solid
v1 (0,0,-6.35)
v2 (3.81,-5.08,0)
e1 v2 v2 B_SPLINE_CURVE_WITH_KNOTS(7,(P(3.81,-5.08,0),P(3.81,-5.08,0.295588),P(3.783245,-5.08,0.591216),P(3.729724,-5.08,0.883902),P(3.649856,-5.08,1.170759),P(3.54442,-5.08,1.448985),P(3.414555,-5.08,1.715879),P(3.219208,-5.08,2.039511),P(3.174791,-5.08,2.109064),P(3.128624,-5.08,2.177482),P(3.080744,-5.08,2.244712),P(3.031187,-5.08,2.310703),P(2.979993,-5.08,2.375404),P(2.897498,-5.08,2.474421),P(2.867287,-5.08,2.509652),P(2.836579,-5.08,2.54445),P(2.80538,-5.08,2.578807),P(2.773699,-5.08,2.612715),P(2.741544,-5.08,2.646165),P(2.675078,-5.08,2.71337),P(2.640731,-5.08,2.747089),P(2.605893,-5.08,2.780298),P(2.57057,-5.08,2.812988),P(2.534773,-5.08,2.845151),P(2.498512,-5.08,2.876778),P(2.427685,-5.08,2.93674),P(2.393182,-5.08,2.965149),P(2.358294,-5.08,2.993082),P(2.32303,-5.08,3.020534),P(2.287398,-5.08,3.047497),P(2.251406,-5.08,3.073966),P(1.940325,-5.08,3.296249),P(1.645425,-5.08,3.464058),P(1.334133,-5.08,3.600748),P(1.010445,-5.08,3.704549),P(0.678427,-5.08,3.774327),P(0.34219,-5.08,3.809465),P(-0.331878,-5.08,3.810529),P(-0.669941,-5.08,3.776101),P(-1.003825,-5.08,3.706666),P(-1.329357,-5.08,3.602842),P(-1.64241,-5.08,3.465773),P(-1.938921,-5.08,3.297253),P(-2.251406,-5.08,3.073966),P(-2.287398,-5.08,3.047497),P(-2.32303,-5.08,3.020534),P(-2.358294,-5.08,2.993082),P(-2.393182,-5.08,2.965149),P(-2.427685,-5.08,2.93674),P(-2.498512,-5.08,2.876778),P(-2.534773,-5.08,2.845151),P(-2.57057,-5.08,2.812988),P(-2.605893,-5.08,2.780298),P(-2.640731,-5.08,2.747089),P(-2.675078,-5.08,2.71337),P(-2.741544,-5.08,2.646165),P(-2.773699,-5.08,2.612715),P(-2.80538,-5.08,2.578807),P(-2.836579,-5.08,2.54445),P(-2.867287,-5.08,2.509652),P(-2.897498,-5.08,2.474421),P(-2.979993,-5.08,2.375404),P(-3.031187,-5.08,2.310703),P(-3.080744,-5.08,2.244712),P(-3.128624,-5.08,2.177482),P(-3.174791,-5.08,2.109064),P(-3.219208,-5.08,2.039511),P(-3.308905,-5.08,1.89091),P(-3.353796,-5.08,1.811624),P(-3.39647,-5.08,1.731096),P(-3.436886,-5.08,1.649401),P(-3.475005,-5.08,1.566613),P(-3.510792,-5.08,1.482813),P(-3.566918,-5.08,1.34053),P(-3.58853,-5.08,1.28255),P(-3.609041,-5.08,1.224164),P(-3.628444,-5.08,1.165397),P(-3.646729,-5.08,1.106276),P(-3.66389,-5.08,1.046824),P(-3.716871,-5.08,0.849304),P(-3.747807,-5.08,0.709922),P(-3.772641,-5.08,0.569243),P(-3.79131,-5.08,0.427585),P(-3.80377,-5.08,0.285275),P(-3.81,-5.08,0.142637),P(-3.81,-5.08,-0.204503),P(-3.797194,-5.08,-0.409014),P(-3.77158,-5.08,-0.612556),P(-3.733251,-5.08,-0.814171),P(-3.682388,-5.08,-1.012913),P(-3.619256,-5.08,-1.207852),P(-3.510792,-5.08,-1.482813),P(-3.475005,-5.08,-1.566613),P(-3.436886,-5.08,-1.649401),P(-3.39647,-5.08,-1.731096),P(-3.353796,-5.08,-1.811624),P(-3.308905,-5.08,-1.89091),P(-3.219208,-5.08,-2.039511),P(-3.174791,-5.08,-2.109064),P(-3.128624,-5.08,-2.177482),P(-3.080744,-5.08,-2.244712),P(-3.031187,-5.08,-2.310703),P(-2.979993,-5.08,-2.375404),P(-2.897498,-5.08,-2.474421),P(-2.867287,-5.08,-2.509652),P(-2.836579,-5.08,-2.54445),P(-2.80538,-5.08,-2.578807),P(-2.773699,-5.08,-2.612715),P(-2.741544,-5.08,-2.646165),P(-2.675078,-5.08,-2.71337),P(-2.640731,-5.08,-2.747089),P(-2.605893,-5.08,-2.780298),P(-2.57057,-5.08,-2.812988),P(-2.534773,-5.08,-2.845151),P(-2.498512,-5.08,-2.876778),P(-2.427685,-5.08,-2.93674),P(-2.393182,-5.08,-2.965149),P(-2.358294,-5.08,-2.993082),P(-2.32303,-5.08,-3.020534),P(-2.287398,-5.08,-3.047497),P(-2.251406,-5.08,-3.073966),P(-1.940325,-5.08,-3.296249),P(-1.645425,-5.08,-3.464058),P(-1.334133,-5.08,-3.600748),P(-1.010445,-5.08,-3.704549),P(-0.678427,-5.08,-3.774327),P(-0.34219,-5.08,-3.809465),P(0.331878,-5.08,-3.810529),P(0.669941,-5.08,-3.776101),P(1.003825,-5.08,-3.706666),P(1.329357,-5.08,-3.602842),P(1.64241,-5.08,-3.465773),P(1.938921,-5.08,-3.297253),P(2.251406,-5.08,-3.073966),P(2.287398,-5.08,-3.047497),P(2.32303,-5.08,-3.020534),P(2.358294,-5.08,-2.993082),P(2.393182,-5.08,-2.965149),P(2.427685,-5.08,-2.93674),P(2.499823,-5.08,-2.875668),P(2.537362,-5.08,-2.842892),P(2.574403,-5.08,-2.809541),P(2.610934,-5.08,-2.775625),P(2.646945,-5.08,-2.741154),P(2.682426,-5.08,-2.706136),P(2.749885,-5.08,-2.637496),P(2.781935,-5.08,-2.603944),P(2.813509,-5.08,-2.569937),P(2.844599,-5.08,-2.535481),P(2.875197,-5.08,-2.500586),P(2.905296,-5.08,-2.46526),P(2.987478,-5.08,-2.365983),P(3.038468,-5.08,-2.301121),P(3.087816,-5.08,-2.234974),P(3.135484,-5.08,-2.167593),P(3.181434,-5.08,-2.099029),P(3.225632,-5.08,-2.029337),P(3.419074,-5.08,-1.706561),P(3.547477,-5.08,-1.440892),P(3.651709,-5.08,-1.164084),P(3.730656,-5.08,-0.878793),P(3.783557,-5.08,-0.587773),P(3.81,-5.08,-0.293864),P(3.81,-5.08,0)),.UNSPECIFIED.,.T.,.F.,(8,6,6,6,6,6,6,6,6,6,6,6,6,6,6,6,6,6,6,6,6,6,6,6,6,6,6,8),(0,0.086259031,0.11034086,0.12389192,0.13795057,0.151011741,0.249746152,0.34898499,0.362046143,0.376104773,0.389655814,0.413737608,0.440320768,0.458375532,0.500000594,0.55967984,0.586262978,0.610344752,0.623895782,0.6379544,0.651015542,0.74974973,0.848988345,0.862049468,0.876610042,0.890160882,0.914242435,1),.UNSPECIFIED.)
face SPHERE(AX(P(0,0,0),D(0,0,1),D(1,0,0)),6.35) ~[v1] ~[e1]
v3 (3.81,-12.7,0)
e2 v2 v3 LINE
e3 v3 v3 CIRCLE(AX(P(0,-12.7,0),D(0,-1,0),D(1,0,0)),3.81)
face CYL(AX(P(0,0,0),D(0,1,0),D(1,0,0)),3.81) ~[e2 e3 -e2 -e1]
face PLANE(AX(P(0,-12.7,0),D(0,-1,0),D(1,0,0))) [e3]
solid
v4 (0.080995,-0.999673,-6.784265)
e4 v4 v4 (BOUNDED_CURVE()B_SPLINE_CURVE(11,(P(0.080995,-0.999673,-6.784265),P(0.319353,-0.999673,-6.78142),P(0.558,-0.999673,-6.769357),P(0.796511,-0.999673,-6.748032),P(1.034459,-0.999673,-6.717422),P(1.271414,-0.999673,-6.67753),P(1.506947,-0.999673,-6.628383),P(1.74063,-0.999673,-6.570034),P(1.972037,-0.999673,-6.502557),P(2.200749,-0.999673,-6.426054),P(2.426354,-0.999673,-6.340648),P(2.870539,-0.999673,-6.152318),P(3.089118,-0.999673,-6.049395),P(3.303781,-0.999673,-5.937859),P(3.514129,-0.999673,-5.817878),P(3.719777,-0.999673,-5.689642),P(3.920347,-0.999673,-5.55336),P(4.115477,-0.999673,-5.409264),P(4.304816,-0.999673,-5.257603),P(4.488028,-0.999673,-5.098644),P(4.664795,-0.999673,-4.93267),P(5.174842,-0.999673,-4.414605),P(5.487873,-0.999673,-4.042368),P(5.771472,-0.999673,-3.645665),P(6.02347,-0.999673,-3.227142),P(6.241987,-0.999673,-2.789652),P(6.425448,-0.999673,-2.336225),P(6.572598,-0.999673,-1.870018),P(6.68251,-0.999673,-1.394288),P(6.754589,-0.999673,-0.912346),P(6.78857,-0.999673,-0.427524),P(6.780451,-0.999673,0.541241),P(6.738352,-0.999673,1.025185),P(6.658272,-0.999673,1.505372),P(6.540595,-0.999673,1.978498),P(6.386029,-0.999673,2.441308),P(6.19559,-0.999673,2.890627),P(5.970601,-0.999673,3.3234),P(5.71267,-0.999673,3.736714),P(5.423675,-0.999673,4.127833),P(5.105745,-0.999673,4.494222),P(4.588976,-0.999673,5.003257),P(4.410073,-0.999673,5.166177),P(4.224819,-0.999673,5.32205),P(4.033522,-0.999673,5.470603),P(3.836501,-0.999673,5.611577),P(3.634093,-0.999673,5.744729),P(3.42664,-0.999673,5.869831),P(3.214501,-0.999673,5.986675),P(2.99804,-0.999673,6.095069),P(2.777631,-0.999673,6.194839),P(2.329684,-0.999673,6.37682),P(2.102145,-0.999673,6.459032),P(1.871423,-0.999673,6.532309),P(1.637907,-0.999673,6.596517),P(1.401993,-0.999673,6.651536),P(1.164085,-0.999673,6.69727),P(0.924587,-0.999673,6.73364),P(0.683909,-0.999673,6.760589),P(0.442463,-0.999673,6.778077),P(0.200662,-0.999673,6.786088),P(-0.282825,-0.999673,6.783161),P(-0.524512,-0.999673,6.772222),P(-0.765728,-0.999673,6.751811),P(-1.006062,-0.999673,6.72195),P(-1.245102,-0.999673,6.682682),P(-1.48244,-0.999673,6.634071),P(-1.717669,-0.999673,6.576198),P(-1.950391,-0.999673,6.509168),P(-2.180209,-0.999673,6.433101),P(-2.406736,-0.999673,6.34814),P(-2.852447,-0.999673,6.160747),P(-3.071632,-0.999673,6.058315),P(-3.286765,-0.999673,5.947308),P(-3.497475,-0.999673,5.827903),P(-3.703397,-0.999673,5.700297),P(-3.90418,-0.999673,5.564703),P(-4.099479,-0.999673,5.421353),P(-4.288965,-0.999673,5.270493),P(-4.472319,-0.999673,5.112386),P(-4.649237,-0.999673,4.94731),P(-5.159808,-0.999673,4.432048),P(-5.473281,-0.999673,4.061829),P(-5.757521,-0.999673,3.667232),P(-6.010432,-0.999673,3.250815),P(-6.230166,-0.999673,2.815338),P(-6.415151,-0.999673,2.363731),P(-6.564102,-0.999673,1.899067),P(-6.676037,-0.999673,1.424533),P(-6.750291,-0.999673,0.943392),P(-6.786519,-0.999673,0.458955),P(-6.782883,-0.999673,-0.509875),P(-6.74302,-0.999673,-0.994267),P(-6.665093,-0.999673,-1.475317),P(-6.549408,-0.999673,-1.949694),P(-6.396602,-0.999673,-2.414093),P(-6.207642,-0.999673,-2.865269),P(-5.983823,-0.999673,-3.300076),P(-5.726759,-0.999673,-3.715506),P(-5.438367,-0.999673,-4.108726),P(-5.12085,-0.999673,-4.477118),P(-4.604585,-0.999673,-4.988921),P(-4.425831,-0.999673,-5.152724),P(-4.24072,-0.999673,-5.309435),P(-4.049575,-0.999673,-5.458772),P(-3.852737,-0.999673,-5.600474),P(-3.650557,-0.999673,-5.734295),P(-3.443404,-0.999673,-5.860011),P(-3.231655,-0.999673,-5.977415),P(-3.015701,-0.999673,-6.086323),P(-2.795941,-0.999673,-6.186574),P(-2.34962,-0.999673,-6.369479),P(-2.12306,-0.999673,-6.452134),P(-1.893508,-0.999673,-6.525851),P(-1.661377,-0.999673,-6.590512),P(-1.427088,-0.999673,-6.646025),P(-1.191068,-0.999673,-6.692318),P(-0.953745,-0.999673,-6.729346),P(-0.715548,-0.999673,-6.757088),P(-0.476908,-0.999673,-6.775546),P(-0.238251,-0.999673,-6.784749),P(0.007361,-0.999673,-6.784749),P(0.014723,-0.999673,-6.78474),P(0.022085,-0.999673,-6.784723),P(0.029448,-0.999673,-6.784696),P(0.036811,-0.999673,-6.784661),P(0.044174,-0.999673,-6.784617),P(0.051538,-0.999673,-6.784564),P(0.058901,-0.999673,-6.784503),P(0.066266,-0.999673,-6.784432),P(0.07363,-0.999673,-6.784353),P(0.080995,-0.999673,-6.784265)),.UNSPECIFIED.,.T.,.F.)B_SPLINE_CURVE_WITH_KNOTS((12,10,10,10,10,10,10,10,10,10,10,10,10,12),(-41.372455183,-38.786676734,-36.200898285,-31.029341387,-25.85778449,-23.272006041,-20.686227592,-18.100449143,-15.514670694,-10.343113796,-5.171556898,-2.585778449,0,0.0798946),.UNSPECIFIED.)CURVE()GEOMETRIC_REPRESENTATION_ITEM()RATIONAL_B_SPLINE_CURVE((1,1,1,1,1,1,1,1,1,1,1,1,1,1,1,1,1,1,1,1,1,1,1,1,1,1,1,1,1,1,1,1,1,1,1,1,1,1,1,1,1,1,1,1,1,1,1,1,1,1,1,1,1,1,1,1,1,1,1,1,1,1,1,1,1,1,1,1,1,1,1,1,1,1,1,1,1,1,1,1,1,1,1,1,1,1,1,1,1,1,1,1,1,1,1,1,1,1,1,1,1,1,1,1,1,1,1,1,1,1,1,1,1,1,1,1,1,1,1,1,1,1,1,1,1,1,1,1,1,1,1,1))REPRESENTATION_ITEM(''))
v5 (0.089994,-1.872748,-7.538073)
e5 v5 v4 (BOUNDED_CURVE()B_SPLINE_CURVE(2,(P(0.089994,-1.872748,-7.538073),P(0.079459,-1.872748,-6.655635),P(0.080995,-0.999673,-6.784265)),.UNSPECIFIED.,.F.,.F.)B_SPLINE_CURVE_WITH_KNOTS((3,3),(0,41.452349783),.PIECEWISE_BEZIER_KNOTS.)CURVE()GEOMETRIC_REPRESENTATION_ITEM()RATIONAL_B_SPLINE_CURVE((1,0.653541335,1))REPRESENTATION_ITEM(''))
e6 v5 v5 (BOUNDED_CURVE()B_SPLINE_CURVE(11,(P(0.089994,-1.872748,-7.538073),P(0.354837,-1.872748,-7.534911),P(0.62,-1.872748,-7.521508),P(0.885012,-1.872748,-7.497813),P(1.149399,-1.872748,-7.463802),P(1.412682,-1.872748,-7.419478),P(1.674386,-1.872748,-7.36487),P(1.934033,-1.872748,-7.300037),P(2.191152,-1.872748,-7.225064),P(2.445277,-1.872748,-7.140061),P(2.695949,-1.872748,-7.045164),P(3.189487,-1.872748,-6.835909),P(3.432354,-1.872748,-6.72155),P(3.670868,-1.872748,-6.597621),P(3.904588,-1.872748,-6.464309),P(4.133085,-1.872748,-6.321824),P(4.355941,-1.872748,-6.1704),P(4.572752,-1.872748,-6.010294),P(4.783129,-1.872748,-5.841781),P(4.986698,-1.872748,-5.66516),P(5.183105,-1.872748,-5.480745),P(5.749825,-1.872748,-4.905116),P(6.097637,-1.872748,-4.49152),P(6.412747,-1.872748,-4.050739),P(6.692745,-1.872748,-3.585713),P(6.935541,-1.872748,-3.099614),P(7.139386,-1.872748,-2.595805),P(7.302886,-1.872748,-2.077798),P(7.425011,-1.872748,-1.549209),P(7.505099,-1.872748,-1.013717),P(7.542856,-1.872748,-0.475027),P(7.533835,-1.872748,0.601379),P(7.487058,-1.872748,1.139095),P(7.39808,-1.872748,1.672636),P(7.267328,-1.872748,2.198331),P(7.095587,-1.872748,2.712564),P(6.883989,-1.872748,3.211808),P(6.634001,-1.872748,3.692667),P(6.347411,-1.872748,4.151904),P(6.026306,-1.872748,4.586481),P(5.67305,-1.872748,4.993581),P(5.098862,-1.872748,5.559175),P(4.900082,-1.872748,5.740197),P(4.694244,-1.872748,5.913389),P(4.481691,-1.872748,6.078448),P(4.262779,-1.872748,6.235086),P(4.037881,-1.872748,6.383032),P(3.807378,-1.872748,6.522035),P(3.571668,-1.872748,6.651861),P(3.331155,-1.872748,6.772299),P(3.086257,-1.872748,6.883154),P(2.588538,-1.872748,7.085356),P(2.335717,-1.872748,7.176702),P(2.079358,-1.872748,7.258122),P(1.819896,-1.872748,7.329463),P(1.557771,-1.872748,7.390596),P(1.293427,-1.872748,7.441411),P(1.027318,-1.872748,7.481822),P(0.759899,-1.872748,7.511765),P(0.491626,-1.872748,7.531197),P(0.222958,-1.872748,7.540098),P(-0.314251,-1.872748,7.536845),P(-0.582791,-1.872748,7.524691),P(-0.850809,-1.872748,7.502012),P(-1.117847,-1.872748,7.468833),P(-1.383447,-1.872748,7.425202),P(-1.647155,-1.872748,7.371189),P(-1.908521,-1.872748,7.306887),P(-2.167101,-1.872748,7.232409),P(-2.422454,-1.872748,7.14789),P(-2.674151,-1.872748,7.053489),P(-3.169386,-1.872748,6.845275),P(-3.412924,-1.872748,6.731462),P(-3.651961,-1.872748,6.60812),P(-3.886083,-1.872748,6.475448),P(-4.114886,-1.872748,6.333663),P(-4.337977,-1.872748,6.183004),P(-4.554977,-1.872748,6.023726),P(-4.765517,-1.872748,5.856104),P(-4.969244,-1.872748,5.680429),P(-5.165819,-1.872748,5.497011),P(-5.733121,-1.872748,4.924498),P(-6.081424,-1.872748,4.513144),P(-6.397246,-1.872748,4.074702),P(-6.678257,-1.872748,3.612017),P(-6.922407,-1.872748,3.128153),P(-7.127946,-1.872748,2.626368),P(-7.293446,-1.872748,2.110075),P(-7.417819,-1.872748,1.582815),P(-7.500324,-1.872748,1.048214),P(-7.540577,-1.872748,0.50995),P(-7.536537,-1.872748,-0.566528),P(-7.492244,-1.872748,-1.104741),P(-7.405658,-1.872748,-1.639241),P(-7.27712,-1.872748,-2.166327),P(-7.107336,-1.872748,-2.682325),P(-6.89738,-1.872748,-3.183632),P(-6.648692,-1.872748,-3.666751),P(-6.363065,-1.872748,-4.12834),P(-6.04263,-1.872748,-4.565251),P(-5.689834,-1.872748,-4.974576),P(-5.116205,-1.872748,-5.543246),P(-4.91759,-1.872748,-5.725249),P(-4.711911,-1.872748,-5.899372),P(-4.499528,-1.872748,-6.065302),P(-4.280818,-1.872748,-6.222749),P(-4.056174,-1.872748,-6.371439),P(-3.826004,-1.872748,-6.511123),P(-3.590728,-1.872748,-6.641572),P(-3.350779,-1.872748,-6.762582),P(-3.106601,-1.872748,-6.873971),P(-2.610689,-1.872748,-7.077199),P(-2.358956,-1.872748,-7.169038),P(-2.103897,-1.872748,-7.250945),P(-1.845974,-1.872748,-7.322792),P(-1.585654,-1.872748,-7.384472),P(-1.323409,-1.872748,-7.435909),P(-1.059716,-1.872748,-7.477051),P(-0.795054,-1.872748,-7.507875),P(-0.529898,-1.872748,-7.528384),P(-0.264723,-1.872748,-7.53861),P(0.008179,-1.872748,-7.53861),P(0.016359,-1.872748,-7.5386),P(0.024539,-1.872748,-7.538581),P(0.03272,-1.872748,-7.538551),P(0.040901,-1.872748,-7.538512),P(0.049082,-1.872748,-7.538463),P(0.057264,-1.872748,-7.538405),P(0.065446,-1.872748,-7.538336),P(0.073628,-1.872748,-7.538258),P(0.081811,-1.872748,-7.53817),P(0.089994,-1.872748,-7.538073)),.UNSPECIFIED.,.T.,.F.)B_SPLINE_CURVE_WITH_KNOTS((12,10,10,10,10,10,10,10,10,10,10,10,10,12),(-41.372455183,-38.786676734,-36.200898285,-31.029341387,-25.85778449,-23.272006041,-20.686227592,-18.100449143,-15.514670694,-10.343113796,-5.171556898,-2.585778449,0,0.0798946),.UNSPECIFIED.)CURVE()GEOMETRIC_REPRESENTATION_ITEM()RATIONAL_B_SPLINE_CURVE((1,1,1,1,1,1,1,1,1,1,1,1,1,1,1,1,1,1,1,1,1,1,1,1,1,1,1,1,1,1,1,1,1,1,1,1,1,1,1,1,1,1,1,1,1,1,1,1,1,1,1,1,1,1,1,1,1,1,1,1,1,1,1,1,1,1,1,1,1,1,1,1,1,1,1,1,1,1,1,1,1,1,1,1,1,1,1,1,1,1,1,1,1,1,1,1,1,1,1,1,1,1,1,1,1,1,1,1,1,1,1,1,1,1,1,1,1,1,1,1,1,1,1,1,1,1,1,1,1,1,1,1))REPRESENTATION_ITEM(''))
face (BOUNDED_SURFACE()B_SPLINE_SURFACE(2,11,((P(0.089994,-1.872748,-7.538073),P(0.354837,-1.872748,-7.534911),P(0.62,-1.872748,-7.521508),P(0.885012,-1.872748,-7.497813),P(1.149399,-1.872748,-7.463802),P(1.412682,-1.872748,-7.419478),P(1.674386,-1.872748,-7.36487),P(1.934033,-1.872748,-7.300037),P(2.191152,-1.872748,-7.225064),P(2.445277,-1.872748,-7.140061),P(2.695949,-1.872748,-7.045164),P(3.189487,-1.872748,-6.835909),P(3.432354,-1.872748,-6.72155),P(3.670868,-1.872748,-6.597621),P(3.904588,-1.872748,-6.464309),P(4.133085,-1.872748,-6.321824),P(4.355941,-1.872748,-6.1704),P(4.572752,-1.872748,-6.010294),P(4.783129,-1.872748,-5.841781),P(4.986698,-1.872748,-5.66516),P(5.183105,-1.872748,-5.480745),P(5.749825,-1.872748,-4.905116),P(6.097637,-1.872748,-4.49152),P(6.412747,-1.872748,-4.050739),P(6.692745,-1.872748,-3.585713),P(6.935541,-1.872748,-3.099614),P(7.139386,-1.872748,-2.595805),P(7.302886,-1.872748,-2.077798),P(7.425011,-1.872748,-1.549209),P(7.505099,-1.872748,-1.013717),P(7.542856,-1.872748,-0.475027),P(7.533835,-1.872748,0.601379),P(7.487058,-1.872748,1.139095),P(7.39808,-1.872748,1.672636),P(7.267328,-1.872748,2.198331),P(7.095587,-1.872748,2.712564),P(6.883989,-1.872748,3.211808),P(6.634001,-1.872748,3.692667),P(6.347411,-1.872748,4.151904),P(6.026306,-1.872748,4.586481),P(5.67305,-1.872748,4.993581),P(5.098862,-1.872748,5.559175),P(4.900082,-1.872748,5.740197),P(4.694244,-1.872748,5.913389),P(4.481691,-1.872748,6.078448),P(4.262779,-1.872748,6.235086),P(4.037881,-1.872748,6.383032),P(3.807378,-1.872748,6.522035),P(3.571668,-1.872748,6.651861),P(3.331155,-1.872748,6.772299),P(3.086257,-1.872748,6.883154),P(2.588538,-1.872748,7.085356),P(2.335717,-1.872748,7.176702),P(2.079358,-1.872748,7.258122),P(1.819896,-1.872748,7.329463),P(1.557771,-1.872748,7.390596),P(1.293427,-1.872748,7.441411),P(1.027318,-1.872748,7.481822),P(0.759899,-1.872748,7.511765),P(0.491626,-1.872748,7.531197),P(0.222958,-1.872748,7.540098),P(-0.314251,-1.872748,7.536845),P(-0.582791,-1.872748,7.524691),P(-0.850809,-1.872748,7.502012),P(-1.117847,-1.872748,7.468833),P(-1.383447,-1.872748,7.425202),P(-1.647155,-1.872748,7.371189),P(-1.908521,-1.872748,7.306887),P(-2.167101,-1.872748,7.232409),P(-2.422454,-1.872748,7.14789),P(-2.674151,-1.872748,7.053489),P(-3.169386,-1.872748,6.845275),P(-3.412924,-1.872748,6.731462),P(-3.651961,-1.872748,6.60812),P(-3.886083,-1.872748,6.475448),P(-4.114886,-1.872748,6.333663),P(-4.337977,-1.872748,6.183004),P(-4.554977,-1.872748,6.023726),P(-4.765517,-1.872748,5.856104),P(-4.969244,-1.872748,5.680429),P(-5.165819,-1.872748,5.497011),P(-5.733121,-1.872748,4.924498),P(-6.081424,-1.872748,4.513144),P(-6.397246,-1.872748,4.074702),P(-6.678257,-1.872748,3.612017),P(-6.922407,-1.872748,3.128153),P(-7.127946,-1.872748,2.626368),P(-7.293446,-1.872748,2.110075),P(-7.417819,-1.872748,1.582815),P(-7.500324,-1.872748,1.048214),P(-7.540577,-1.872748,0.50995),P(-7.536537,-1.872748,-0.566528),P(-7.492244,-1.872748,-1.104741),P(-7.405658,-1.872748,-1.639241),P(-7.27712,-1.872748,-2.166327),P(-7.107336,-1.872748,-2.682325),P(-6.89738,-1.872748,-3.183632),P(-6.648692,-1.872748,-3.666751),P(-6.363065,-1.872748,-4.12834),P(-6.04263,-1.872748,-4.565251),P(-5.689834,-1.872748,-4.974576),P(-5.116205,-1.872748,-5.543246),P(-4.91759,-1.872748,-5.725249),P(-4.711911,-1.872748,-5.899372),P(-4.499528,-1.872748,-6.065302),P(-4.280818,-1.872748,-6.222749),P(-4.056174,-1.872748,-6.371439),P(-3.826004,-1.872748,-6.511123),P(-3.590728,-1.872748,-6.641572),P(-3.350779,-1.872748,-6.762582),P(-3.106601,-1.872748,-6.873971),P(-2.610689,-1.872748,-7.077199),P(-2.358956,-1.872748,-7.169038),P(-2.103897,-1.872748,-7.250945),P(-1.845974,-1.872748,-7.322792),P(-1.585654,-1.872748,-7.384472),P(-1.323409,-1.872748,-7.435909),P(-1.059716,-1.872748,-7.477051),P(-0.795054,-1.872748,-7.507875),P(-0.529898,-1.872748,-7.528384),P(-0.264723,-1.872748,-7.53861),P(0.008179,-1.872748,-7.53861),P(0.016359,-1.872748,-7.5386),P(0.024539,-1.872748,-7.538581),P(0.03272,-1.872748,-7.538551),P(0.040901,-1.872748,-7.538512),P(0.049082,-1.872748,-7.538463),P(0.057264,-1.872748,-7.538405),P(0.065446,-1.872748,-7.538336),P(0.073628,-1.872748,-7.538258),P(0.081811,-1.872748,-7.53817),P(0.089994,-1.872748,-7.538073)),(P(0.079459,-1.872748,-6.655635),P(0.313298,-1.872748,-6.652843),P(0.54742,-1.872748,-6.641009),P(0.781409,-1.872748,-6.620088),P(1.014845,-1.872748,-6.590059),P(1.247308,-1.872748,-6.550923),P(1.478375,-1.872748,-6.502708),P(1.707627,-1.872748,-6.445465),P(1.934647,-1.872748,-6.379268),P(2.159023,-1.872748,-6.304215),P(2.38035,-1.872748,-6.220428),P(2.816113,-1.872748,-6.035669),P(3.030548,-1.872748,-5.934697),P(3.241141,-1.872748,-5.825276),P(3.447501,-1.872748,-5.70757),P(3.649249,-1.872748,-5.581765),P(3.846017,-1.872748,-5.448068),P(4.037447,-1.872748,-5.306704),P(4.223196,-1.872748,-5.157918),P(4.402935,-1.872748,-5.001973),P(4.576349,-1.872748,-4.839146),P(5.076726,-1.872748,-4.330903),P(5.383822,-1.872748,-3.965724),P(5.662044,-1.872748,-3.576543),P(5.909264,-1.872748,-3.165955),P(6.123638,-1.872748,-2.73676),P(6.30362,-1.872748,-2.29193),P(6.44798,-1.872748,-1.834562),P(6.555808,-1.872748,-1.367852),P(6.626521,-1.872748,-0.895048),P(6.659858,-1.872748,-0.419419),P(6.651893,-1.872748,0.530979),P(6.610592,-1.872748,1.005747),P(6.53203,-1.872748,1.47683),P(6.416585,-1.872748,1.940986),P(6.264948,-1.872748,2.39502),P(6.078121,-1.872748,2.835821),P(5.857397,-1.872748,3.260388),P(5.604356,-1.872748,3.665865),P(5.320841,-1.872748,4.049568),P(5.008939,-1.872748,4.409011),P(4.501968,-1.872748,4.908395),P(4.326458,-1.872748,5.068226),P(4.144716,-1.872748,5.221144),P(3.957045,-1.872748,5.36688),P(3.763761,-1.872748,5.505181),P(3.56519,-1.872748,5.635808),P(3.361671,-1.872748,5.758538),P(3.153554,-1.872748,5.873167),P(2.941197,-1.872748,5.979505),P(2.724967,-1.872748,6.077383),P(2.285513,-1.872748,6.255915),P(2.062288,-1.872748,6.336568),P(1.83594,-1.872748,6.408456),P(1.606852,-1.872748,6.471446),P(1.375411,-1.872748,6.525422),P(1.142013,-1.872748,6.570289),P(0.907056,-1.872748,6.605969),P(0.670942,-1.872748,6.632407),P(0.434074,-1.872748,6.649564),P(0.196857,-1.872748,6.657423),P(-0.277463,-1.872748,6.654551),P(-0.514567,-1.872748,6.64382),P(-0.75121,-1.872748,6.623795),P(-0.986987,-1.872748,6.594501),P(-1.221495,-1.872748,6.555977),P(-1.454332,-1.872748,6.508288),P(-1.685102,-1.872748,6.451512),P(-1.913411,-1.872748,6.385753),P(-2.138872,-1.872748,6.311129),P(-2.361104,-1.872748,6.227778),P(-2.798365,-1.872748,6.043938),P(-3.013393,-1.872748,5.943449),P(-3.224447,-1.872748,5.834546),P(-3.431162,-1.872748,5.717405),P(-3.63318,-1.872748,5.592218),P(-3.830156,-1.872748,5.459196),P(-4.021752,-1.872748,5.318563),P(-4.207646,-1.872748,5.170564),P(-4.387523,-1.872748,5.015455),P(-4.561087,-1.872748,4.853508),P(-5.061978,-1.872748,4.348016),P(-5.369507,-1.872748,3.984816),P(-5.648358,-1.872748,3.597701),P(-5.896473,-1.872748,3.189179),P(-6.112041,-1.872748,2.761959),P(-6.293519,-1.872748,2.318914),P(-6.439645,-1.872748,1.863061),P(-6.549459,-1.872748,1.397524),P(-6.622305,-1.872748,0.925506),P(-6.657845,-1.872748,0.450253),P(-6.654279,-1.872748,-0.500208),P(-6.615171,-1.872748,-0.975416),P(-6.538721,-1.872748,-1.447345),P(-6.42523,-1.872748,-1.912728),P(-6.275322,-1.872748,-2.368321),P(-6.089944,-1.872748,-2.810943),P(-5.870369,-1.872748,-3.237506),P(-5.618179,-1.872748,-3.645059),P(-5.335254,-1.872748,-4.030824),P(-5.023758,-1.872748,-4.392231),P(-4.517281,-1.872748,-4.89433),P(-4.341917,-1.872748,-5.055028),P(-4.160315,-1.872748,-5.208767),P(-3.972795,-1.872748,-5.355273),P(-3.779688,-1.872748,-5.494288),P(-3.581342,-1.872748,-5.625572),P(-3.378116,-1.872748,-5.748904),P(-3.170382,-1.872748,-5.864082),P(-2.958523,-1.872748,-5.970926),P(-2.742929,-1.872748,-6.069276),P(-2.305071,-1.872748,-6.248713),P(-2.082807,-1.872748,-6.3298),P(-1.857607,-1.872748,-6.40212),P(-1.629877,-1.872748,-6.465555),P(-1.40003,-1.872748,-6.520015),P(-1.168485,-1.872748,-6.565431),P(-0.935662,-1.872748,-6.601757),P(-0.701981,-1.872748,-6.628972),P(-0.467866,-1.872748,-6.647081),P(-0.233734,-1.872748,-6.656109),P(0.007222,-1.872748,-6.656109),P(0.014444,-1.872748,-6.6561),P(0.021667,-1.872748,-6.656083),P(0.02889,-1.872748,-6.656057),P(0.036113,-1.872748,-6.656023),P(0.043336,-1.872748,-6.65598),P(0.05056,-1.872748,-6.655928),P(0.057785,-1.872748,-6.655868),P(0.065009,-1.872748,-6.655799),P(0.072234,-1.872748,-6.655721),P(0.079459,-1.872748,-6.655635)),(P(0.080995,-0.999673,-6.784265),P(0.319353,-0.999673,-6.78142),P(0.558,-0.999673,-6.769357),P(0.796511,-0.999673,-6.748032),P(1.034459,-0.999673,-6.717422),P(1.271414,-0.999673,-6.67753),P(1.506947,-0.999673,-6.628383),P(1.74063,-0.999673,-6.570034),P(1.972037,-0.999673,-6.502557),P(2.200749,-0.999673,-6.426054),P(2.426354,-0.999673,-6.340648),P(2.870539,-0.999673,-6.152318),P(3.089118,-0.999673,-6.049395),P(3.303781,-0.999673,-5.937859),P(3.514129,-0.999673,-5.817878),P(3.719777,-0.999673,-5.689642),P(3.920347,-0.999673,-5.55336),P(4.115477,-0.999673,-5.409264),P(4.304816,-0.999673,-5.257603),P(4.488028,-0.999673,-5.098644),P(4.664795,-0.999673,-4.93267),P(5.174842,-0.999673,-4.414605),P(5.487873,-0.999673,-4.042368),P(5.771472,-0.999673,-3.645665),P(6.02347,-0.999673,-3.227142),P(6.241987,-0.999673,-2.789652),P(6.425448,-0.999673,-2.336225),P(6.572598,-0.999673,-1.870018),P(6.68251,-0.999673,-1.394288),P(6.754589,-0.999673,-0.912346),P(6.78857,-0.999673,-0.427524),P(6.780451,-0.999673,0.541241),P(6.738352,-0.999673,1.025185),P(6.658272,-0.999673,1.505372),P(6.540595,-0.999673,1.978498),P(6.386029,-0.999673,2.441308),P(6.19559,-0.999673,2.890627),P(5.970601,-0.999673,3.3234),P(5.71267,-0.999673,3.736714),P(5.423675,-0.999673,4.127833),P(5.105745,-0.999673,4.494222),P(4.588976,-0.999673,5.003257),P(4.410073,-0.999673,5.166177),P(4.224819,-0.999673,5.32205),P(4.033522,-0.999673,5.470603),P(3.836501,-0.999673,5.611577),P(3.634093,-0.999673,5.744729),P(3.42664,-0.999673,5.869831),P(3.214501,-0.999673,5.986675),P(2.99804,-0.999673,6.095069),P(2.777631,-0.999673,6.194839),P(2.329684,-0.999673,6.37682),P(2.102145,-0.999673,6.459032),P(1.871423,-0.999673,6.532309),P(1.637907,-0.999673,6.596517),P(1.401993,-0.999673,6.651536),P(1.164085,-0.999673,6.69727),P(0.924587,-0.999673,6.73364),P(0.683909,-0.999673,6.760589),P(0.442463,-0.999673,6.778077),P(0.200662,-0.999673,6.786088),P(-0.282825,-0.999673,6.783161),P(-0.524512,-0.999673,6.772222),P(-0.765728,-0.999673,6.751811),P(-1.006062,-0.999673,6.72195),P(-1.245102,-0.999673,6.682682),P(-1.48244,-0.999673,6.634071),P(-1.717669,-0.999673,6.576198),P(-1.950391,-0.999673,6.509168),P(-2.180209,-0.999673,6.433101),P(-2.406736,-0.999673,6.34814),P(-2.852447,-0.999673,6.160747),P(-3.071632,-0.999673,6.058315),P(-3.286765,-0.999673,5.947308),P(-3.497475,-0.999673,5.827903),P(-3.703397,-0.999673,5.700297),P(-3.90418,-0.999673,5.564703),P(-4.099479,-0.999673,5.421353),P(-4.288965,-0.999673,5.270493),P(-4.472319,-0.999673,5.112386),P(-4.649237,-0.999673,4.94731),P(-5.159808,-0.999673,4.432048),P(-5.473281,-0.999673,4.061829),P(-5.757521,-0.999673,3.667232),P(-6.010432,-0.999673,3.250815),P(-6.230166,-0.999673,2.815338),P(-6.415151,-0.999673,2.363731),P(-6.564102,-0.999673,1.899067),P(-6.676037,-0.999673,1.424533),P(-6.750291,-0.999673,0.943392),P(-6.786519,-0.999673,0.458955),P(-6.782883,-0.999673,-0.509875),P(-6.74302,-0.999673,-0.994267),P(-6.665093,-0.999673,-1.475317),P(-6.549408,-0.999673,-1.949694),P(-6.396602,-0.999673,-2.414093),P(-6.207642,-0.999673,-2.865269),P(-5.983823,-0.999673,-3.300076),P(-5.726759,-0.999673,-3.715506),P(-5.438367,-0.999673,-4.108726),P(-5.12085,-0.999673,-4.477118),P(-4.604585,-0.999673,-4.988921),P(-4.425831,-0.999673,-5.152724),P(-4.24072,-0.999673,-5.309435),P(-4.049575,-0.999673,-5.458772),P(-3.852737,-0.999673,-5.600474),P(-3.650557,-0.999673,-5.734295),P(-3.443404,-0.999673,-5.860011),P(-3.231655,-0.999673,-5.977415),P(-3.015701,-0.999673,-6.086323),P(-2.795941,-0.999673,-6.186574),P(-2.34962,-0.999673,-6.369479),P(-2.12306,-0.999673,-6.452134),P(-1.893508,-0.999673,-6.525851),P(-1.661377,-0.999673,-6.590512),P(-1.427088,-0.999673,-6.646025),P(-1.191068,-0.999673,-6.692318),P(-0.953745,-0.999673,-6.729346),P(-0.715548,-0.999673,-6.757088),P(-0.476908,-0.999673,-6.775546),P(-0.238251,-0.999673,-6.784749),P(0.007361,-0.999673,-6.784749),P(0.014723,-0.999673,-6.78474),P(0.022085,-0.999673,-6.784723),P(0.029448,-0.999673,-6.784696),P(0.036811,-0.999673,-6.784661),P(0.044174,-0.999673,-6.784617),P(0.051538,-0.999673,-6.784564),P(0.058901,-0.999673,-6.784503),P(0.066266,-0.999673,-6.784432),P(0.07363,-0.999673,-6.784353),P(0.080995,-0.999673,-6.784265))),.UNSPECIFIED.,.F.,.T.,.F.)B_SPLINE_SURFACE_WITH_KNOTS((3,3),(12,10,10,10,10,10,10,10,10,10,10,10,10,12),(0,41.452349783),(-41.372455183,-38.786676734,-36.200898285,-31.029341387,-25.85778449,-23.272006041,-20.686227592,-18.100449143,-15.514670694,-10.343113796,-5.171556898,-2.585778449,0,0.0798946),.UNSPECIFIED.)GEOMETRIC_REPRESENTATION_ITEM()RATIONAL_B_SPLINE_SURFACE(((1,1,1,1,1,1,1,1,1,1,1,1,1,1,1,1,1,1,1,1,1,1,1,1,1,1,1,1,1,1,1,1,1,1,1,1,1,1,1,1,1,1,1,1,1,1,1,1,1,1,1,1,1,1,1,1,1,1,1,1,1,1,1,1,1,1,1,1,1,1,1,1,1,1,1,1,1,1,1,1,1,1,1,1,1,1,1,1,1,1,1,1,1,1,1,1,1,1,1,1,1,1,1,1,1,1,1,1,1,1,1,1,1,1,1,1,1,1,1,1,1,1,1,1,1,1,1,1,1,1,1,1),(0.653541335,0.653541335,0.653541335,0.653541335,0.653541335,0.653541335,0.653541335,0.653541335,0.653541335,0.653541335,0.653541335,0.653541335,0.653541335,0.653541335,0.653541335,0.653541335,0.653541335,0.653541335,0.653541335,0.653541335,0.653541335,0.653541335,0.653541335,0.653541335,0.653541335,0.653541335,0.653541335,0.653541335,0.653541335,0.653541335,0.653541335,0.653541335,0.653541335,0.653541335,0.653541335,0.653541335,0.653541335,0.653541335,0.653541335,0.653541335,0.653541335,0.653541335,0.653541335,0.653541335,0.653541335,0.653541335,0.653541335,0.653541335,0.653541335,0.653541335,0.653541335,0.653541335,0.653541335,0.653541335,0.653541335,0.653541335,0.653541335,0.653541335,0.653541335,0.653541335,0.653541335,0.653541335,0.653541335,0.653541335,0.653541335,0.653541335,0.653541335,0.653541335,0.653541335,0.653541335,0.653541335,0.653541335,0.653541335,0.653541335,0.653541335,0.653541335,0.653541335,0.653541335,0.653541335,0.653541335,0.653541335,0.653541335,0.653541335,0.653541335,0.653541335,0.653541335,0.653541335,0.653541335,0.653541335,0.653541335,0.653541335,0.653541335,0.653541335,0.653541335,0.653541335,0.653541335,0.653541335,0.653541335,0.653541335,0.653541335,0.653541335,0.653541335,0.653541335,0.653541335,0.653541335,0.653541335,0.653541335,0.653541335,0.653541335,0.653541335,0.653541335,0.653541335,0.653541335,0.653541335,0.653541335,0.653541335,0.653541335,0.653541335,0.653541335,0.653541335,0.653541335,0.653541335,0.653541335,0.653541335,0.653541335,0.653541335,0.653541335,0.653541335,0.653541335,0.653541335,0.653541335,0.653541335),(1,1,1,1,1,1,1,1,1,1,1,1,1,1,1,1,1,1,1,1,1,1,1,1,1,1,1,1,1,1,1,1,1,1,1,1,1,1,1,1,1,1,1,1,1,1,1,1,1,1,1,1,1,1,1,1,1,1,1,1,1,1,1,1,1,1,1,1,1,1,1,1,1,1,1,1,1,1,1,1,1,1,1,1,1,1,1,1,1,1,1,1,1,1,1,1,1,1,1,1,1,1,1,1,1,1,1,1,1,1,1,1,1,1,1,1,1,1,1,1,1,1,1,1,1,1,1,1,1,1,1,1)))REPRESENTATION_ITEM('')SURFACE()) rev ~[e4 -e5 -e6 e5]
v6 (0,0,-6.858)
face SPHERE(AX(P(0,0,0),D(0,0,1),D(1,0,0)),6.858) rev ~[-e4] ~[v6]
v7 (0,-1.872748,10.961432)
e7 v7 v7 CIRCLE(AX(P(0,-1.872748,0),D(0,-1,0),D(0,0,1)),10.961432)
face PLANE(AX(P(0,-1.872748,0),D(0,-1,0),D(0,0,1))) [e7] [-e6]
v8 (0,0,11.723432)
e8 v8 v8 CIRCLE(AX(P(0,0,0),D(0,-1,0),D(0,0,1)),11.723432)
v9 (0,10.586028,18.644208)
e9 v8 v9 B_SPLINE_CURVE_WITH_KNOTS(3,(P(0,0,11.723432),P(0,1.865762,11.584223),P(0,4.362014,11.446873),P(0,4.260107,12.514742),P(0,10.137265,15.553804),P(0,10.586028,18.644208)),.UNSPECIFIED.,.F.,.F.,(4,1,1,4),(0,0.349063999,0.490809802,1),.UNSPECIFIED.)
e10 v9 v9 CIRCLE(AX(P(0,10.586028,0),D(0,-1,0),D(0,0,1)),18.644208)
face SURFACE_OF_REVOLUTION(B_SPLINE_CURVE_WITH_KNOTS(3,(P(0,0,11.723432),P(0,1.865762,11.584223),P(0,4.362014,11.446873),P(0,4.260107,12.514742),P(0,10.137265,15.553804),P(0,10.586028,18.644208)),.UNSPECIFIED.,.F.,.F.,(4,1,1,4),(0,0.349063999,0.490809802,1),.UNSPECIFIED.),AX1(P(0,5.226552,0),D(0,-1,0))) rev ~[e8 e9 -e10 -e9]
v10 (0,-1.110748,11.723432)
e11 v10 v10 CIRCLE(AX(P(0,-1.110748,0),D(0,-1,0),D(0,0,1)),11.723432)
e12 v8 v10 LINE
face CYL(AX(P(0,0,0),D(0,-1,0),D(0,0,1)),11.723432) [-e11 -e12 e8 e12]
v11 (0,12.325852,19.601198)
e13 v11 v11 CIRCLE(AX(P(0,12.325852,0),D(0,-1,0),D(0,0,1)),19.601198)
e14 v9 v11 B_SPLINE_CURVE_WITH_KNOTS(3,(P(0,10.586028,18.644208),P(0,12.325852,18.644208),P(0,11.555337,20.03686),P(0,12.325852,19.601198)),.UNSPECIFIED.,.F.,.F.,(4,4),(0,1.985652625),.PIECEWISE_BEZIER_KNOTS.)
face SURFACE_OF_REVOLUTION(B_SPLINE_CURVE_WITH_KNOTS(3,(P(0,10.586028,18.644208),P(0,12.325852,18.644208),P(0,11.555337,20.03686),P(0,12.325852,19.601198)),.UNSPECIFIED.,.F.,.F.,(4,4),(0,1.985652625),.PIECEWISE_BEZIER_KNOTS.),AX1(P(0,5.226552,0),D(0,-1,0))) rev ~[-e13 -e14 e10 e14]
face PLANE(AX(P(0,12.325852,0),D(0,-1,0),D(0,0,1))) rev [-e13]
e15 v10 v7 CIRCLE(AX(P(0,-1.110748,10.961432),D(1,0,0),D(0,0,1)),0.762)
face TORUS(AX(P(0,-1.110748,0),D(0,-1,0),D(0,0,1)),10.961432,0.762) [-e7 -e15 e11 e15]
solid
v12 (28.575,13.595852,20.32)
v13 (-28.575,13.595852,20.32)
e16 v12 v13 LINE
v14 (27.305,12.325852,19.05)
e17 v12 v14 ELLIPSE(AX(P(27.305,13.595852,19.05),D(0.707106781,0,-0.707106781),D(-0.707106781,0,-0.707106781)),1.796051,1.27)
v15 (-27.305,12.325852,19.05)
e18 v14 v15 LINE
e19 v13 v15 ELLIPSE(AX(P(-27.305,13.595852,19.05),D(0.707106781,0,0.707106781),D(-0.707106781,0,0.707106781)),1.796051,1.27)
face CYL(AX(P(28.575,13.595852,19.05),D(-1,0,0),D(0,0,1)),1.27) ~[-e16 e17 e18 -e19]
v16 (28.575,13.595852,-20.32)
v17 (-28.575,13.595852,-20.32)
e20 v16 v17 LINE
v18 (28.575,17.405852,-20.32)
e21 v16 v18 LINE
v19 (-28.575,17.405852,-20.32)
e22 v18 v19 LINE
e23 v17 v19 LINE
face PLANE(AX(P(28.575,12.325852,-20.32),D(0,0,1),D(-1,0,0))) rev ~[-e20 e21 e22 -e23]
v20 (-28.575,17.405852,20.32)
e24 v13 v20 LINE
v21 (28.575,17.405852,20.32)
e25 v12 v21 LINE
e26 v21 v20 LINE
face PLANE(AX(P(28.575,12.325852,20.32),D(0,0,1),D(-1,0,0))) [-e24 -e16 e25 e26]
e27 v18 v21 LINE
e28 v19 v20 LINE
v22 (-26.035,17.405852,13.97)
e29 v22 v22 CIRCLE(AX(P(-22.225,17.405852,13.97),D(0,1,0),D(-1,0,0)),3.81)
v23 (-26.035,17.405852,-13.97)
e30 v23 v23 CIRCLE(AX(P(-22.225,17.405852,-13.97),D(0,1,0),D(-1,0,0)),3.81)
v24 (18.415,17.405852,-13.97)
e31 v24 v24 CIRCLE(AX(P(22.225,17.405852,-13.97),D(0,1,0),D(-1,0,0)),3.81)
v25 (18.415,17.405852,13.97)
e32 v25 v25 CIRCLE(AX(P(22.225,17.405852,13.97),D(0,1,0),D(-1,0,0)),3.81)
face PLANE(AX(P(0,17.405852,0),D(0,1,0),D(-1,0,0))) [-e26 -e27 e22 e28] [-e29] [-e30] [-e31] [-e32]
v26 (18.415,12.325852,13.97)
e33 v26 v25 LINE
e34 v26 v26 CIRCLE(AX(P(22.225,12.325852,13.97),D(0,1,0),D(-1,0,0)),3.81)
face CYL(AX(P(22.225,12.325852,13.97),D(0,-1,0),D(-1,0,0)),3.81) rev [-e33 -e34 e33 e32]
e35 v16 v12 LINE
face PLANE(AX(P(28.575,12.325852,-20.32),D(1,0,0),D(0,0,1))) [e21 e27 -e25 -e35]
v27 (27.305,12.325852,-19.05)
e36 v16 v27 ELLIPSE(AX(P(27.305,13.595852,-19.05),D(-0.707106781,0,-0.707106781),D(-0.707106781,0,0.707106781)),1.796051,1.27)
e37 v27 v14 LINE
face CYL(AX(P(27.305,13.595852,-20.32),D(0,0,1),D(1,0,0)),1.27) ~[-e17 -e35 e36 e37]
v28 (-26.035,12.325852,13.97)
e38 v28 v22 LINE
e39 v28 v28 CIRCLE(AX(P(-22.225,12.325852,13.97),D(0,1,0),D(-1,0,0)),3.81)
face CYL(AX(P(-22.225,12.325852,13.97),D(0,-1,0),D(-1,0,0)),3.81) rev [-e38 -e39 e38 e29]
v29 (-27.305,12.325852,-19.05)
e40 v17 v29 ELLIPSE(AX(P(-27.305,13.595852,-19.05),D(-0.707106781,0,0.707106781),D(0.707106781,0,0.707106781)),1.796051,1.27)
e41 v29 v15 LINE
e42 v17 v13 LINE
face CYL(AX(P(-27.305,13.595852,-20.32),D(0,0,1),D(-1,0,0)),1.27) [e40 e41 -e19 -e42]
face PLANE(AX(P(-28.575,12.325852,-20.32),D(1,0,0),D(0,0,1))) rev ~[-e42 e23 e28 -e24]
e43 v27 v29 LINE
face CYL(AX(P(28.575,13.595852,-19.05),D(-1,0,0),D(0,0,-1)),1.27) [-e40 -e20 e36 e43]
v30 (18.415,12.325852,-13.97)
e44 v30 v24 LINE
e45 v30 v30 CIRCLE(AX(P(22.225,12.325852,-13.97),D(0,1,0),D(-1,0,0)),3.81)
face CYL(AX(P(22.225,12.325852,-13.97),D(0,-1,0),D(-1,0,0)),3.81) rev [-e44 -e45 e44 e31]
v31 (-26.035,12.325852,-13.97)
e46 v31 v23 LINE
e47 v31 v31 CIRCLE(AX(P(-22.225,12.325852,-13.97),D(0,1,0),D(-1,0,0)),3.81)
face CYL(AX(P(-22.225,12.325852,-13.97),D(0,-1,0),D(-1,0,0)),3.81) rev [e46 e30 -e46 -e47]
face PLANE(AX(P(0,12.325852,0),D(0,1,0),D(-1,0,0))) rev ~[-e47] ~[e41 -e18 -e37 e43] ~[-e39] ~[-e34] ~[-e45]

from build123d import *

# Parameters (mm, degrees)
F2_R     = 3.81
F3_DEPTH = 12.7
F6_W     = 57.15
F6_H     = 40.64
F6_R     = 3.81
F7_DEPTH = 5.08
F10_R    = 1.27
F11_R    = 0.762


with BuildPart() as f1:
    # F0 (on Front) → F1 (revolve)
    with BuildSketch(Plane.XZ):
        with BuildLine():
            Line((0, 6.35), (0, -6.35))
            ThreePointArc((0, -6.35), (6.35, 0), (0, 6.35))
        make_face()
    revolve(axis=Axis((0, 0, 0), (0, 0, -1)))

    # F2 (on Front) → F3 (join)
    with BuildSketch(Plane.XZ):
        Circle(F2_R)
    extrude(amount=F3_DEPTH)


with BuildPart() as f5:
    # F4 (on Right) → F5 (revolve)
    with BuildSketch(Plane.YZ):
        with BuildLine():
            Line((0, 11.7234318889), (-1.8727479448, 11.7234318889))
            Line((-1.8727479448, 11.7234318889), (-1.8727479448, 0))
            Line((-1.8727479448, 0), (12.3258520552, 0))
            Line((12.3258520552, 0), (12.3258520552, 19.6011976902))
            add(Edge.make_bspline(
                [(10.5860281212, 18.644208125), (12.3258520552, 18.644208125), (11.5553371343, 20.0368603166), (12.3258520552, 19.6011976902)],
                knots=[0, 0, 0, 0, 1.9856526255, 1.9856526255, 1.9856526255, 1.9856526255], degree=3))
            add(Edge.make_bspline(
                [(0, 11.7234318889), (1.8657619774, 11.5842229728), (4.362013744, 11.4468729356), (4.2601069675, 12.514742272), (10.1372654945, 15.5538044733), (10.5860281212, 18.644208125)],
                knots=[0, 0, 0, 0, 0.3490639994, 0.4908098017, 1, 1, 1, 1], degree=3))
        make_face()
    revolve(axis=Axis((0, 5.2265520552, 0), (0, -1, 0)))

    # F8 (on face) → F9 (revolve, cut)
    with BuildSketch(Plane.XZ):
        with BuildLine():
            Line((0, 6.35), (0, -6.35))
            Line((0, -6.35), (0, -6.858))
            ThreePointArc((0, -6.858), (6.858, 0), (0, 6.858))
            Line((0, 6.858), (0, 6.35))
        make_face()
    revolve(axis=Axis((0, 0, 0), (0, 0, 1)), mode=Mode.SUBTRACT)

    # F11
    f11_edges = [f5.edges().sort_by_distance(p)[0] for p in [
        (0, -1.872748, 6.597346),
        (0, -1.872748, -11.723432),
    ]]
    fillet(f11_edges, radius=F11_R)


with BuildPart() as f7:
    # F6 (on face) → F7 (new body)
    with BuildSketch(Plane(origin=(0, 12.3258520552, 0), x_dir=(-1, 0, 0), z_dir=(0, 1, 0))):
        Rectangle(F6_W, F6_H)
        with Locations((-22.225, -13.97)):
            Circle(F6_R, mode=Mode.SUBTRACT)
        with Locations((22.225, -13.97)):
            Circle(F6_R, mode=Mode.SUBTRACT)
        with Locations((-22.225, 13.97)):
            Circle(F6_R, mode=Mode.SUBTRACT)
        with Locations((22.225, 13.97)):
            Circle(F6_R, mode=Mode.SUBTRACT)
    extrude(amount=F7_DEPTH)

    # F10
    f10_edges = [f7.edges().sort_by_distance(p)[0] for p in [
        (0, 12.325852, 20.32),
        (-28.575, 12.325852, 0),
        (0, 12.325852, -20.32),
        (28.575, 12.325852, 0),
    ]]
    fillet(f10_edges, radius=F10_R)


solid = Compound([f1.part, f5.part, f7.part])
